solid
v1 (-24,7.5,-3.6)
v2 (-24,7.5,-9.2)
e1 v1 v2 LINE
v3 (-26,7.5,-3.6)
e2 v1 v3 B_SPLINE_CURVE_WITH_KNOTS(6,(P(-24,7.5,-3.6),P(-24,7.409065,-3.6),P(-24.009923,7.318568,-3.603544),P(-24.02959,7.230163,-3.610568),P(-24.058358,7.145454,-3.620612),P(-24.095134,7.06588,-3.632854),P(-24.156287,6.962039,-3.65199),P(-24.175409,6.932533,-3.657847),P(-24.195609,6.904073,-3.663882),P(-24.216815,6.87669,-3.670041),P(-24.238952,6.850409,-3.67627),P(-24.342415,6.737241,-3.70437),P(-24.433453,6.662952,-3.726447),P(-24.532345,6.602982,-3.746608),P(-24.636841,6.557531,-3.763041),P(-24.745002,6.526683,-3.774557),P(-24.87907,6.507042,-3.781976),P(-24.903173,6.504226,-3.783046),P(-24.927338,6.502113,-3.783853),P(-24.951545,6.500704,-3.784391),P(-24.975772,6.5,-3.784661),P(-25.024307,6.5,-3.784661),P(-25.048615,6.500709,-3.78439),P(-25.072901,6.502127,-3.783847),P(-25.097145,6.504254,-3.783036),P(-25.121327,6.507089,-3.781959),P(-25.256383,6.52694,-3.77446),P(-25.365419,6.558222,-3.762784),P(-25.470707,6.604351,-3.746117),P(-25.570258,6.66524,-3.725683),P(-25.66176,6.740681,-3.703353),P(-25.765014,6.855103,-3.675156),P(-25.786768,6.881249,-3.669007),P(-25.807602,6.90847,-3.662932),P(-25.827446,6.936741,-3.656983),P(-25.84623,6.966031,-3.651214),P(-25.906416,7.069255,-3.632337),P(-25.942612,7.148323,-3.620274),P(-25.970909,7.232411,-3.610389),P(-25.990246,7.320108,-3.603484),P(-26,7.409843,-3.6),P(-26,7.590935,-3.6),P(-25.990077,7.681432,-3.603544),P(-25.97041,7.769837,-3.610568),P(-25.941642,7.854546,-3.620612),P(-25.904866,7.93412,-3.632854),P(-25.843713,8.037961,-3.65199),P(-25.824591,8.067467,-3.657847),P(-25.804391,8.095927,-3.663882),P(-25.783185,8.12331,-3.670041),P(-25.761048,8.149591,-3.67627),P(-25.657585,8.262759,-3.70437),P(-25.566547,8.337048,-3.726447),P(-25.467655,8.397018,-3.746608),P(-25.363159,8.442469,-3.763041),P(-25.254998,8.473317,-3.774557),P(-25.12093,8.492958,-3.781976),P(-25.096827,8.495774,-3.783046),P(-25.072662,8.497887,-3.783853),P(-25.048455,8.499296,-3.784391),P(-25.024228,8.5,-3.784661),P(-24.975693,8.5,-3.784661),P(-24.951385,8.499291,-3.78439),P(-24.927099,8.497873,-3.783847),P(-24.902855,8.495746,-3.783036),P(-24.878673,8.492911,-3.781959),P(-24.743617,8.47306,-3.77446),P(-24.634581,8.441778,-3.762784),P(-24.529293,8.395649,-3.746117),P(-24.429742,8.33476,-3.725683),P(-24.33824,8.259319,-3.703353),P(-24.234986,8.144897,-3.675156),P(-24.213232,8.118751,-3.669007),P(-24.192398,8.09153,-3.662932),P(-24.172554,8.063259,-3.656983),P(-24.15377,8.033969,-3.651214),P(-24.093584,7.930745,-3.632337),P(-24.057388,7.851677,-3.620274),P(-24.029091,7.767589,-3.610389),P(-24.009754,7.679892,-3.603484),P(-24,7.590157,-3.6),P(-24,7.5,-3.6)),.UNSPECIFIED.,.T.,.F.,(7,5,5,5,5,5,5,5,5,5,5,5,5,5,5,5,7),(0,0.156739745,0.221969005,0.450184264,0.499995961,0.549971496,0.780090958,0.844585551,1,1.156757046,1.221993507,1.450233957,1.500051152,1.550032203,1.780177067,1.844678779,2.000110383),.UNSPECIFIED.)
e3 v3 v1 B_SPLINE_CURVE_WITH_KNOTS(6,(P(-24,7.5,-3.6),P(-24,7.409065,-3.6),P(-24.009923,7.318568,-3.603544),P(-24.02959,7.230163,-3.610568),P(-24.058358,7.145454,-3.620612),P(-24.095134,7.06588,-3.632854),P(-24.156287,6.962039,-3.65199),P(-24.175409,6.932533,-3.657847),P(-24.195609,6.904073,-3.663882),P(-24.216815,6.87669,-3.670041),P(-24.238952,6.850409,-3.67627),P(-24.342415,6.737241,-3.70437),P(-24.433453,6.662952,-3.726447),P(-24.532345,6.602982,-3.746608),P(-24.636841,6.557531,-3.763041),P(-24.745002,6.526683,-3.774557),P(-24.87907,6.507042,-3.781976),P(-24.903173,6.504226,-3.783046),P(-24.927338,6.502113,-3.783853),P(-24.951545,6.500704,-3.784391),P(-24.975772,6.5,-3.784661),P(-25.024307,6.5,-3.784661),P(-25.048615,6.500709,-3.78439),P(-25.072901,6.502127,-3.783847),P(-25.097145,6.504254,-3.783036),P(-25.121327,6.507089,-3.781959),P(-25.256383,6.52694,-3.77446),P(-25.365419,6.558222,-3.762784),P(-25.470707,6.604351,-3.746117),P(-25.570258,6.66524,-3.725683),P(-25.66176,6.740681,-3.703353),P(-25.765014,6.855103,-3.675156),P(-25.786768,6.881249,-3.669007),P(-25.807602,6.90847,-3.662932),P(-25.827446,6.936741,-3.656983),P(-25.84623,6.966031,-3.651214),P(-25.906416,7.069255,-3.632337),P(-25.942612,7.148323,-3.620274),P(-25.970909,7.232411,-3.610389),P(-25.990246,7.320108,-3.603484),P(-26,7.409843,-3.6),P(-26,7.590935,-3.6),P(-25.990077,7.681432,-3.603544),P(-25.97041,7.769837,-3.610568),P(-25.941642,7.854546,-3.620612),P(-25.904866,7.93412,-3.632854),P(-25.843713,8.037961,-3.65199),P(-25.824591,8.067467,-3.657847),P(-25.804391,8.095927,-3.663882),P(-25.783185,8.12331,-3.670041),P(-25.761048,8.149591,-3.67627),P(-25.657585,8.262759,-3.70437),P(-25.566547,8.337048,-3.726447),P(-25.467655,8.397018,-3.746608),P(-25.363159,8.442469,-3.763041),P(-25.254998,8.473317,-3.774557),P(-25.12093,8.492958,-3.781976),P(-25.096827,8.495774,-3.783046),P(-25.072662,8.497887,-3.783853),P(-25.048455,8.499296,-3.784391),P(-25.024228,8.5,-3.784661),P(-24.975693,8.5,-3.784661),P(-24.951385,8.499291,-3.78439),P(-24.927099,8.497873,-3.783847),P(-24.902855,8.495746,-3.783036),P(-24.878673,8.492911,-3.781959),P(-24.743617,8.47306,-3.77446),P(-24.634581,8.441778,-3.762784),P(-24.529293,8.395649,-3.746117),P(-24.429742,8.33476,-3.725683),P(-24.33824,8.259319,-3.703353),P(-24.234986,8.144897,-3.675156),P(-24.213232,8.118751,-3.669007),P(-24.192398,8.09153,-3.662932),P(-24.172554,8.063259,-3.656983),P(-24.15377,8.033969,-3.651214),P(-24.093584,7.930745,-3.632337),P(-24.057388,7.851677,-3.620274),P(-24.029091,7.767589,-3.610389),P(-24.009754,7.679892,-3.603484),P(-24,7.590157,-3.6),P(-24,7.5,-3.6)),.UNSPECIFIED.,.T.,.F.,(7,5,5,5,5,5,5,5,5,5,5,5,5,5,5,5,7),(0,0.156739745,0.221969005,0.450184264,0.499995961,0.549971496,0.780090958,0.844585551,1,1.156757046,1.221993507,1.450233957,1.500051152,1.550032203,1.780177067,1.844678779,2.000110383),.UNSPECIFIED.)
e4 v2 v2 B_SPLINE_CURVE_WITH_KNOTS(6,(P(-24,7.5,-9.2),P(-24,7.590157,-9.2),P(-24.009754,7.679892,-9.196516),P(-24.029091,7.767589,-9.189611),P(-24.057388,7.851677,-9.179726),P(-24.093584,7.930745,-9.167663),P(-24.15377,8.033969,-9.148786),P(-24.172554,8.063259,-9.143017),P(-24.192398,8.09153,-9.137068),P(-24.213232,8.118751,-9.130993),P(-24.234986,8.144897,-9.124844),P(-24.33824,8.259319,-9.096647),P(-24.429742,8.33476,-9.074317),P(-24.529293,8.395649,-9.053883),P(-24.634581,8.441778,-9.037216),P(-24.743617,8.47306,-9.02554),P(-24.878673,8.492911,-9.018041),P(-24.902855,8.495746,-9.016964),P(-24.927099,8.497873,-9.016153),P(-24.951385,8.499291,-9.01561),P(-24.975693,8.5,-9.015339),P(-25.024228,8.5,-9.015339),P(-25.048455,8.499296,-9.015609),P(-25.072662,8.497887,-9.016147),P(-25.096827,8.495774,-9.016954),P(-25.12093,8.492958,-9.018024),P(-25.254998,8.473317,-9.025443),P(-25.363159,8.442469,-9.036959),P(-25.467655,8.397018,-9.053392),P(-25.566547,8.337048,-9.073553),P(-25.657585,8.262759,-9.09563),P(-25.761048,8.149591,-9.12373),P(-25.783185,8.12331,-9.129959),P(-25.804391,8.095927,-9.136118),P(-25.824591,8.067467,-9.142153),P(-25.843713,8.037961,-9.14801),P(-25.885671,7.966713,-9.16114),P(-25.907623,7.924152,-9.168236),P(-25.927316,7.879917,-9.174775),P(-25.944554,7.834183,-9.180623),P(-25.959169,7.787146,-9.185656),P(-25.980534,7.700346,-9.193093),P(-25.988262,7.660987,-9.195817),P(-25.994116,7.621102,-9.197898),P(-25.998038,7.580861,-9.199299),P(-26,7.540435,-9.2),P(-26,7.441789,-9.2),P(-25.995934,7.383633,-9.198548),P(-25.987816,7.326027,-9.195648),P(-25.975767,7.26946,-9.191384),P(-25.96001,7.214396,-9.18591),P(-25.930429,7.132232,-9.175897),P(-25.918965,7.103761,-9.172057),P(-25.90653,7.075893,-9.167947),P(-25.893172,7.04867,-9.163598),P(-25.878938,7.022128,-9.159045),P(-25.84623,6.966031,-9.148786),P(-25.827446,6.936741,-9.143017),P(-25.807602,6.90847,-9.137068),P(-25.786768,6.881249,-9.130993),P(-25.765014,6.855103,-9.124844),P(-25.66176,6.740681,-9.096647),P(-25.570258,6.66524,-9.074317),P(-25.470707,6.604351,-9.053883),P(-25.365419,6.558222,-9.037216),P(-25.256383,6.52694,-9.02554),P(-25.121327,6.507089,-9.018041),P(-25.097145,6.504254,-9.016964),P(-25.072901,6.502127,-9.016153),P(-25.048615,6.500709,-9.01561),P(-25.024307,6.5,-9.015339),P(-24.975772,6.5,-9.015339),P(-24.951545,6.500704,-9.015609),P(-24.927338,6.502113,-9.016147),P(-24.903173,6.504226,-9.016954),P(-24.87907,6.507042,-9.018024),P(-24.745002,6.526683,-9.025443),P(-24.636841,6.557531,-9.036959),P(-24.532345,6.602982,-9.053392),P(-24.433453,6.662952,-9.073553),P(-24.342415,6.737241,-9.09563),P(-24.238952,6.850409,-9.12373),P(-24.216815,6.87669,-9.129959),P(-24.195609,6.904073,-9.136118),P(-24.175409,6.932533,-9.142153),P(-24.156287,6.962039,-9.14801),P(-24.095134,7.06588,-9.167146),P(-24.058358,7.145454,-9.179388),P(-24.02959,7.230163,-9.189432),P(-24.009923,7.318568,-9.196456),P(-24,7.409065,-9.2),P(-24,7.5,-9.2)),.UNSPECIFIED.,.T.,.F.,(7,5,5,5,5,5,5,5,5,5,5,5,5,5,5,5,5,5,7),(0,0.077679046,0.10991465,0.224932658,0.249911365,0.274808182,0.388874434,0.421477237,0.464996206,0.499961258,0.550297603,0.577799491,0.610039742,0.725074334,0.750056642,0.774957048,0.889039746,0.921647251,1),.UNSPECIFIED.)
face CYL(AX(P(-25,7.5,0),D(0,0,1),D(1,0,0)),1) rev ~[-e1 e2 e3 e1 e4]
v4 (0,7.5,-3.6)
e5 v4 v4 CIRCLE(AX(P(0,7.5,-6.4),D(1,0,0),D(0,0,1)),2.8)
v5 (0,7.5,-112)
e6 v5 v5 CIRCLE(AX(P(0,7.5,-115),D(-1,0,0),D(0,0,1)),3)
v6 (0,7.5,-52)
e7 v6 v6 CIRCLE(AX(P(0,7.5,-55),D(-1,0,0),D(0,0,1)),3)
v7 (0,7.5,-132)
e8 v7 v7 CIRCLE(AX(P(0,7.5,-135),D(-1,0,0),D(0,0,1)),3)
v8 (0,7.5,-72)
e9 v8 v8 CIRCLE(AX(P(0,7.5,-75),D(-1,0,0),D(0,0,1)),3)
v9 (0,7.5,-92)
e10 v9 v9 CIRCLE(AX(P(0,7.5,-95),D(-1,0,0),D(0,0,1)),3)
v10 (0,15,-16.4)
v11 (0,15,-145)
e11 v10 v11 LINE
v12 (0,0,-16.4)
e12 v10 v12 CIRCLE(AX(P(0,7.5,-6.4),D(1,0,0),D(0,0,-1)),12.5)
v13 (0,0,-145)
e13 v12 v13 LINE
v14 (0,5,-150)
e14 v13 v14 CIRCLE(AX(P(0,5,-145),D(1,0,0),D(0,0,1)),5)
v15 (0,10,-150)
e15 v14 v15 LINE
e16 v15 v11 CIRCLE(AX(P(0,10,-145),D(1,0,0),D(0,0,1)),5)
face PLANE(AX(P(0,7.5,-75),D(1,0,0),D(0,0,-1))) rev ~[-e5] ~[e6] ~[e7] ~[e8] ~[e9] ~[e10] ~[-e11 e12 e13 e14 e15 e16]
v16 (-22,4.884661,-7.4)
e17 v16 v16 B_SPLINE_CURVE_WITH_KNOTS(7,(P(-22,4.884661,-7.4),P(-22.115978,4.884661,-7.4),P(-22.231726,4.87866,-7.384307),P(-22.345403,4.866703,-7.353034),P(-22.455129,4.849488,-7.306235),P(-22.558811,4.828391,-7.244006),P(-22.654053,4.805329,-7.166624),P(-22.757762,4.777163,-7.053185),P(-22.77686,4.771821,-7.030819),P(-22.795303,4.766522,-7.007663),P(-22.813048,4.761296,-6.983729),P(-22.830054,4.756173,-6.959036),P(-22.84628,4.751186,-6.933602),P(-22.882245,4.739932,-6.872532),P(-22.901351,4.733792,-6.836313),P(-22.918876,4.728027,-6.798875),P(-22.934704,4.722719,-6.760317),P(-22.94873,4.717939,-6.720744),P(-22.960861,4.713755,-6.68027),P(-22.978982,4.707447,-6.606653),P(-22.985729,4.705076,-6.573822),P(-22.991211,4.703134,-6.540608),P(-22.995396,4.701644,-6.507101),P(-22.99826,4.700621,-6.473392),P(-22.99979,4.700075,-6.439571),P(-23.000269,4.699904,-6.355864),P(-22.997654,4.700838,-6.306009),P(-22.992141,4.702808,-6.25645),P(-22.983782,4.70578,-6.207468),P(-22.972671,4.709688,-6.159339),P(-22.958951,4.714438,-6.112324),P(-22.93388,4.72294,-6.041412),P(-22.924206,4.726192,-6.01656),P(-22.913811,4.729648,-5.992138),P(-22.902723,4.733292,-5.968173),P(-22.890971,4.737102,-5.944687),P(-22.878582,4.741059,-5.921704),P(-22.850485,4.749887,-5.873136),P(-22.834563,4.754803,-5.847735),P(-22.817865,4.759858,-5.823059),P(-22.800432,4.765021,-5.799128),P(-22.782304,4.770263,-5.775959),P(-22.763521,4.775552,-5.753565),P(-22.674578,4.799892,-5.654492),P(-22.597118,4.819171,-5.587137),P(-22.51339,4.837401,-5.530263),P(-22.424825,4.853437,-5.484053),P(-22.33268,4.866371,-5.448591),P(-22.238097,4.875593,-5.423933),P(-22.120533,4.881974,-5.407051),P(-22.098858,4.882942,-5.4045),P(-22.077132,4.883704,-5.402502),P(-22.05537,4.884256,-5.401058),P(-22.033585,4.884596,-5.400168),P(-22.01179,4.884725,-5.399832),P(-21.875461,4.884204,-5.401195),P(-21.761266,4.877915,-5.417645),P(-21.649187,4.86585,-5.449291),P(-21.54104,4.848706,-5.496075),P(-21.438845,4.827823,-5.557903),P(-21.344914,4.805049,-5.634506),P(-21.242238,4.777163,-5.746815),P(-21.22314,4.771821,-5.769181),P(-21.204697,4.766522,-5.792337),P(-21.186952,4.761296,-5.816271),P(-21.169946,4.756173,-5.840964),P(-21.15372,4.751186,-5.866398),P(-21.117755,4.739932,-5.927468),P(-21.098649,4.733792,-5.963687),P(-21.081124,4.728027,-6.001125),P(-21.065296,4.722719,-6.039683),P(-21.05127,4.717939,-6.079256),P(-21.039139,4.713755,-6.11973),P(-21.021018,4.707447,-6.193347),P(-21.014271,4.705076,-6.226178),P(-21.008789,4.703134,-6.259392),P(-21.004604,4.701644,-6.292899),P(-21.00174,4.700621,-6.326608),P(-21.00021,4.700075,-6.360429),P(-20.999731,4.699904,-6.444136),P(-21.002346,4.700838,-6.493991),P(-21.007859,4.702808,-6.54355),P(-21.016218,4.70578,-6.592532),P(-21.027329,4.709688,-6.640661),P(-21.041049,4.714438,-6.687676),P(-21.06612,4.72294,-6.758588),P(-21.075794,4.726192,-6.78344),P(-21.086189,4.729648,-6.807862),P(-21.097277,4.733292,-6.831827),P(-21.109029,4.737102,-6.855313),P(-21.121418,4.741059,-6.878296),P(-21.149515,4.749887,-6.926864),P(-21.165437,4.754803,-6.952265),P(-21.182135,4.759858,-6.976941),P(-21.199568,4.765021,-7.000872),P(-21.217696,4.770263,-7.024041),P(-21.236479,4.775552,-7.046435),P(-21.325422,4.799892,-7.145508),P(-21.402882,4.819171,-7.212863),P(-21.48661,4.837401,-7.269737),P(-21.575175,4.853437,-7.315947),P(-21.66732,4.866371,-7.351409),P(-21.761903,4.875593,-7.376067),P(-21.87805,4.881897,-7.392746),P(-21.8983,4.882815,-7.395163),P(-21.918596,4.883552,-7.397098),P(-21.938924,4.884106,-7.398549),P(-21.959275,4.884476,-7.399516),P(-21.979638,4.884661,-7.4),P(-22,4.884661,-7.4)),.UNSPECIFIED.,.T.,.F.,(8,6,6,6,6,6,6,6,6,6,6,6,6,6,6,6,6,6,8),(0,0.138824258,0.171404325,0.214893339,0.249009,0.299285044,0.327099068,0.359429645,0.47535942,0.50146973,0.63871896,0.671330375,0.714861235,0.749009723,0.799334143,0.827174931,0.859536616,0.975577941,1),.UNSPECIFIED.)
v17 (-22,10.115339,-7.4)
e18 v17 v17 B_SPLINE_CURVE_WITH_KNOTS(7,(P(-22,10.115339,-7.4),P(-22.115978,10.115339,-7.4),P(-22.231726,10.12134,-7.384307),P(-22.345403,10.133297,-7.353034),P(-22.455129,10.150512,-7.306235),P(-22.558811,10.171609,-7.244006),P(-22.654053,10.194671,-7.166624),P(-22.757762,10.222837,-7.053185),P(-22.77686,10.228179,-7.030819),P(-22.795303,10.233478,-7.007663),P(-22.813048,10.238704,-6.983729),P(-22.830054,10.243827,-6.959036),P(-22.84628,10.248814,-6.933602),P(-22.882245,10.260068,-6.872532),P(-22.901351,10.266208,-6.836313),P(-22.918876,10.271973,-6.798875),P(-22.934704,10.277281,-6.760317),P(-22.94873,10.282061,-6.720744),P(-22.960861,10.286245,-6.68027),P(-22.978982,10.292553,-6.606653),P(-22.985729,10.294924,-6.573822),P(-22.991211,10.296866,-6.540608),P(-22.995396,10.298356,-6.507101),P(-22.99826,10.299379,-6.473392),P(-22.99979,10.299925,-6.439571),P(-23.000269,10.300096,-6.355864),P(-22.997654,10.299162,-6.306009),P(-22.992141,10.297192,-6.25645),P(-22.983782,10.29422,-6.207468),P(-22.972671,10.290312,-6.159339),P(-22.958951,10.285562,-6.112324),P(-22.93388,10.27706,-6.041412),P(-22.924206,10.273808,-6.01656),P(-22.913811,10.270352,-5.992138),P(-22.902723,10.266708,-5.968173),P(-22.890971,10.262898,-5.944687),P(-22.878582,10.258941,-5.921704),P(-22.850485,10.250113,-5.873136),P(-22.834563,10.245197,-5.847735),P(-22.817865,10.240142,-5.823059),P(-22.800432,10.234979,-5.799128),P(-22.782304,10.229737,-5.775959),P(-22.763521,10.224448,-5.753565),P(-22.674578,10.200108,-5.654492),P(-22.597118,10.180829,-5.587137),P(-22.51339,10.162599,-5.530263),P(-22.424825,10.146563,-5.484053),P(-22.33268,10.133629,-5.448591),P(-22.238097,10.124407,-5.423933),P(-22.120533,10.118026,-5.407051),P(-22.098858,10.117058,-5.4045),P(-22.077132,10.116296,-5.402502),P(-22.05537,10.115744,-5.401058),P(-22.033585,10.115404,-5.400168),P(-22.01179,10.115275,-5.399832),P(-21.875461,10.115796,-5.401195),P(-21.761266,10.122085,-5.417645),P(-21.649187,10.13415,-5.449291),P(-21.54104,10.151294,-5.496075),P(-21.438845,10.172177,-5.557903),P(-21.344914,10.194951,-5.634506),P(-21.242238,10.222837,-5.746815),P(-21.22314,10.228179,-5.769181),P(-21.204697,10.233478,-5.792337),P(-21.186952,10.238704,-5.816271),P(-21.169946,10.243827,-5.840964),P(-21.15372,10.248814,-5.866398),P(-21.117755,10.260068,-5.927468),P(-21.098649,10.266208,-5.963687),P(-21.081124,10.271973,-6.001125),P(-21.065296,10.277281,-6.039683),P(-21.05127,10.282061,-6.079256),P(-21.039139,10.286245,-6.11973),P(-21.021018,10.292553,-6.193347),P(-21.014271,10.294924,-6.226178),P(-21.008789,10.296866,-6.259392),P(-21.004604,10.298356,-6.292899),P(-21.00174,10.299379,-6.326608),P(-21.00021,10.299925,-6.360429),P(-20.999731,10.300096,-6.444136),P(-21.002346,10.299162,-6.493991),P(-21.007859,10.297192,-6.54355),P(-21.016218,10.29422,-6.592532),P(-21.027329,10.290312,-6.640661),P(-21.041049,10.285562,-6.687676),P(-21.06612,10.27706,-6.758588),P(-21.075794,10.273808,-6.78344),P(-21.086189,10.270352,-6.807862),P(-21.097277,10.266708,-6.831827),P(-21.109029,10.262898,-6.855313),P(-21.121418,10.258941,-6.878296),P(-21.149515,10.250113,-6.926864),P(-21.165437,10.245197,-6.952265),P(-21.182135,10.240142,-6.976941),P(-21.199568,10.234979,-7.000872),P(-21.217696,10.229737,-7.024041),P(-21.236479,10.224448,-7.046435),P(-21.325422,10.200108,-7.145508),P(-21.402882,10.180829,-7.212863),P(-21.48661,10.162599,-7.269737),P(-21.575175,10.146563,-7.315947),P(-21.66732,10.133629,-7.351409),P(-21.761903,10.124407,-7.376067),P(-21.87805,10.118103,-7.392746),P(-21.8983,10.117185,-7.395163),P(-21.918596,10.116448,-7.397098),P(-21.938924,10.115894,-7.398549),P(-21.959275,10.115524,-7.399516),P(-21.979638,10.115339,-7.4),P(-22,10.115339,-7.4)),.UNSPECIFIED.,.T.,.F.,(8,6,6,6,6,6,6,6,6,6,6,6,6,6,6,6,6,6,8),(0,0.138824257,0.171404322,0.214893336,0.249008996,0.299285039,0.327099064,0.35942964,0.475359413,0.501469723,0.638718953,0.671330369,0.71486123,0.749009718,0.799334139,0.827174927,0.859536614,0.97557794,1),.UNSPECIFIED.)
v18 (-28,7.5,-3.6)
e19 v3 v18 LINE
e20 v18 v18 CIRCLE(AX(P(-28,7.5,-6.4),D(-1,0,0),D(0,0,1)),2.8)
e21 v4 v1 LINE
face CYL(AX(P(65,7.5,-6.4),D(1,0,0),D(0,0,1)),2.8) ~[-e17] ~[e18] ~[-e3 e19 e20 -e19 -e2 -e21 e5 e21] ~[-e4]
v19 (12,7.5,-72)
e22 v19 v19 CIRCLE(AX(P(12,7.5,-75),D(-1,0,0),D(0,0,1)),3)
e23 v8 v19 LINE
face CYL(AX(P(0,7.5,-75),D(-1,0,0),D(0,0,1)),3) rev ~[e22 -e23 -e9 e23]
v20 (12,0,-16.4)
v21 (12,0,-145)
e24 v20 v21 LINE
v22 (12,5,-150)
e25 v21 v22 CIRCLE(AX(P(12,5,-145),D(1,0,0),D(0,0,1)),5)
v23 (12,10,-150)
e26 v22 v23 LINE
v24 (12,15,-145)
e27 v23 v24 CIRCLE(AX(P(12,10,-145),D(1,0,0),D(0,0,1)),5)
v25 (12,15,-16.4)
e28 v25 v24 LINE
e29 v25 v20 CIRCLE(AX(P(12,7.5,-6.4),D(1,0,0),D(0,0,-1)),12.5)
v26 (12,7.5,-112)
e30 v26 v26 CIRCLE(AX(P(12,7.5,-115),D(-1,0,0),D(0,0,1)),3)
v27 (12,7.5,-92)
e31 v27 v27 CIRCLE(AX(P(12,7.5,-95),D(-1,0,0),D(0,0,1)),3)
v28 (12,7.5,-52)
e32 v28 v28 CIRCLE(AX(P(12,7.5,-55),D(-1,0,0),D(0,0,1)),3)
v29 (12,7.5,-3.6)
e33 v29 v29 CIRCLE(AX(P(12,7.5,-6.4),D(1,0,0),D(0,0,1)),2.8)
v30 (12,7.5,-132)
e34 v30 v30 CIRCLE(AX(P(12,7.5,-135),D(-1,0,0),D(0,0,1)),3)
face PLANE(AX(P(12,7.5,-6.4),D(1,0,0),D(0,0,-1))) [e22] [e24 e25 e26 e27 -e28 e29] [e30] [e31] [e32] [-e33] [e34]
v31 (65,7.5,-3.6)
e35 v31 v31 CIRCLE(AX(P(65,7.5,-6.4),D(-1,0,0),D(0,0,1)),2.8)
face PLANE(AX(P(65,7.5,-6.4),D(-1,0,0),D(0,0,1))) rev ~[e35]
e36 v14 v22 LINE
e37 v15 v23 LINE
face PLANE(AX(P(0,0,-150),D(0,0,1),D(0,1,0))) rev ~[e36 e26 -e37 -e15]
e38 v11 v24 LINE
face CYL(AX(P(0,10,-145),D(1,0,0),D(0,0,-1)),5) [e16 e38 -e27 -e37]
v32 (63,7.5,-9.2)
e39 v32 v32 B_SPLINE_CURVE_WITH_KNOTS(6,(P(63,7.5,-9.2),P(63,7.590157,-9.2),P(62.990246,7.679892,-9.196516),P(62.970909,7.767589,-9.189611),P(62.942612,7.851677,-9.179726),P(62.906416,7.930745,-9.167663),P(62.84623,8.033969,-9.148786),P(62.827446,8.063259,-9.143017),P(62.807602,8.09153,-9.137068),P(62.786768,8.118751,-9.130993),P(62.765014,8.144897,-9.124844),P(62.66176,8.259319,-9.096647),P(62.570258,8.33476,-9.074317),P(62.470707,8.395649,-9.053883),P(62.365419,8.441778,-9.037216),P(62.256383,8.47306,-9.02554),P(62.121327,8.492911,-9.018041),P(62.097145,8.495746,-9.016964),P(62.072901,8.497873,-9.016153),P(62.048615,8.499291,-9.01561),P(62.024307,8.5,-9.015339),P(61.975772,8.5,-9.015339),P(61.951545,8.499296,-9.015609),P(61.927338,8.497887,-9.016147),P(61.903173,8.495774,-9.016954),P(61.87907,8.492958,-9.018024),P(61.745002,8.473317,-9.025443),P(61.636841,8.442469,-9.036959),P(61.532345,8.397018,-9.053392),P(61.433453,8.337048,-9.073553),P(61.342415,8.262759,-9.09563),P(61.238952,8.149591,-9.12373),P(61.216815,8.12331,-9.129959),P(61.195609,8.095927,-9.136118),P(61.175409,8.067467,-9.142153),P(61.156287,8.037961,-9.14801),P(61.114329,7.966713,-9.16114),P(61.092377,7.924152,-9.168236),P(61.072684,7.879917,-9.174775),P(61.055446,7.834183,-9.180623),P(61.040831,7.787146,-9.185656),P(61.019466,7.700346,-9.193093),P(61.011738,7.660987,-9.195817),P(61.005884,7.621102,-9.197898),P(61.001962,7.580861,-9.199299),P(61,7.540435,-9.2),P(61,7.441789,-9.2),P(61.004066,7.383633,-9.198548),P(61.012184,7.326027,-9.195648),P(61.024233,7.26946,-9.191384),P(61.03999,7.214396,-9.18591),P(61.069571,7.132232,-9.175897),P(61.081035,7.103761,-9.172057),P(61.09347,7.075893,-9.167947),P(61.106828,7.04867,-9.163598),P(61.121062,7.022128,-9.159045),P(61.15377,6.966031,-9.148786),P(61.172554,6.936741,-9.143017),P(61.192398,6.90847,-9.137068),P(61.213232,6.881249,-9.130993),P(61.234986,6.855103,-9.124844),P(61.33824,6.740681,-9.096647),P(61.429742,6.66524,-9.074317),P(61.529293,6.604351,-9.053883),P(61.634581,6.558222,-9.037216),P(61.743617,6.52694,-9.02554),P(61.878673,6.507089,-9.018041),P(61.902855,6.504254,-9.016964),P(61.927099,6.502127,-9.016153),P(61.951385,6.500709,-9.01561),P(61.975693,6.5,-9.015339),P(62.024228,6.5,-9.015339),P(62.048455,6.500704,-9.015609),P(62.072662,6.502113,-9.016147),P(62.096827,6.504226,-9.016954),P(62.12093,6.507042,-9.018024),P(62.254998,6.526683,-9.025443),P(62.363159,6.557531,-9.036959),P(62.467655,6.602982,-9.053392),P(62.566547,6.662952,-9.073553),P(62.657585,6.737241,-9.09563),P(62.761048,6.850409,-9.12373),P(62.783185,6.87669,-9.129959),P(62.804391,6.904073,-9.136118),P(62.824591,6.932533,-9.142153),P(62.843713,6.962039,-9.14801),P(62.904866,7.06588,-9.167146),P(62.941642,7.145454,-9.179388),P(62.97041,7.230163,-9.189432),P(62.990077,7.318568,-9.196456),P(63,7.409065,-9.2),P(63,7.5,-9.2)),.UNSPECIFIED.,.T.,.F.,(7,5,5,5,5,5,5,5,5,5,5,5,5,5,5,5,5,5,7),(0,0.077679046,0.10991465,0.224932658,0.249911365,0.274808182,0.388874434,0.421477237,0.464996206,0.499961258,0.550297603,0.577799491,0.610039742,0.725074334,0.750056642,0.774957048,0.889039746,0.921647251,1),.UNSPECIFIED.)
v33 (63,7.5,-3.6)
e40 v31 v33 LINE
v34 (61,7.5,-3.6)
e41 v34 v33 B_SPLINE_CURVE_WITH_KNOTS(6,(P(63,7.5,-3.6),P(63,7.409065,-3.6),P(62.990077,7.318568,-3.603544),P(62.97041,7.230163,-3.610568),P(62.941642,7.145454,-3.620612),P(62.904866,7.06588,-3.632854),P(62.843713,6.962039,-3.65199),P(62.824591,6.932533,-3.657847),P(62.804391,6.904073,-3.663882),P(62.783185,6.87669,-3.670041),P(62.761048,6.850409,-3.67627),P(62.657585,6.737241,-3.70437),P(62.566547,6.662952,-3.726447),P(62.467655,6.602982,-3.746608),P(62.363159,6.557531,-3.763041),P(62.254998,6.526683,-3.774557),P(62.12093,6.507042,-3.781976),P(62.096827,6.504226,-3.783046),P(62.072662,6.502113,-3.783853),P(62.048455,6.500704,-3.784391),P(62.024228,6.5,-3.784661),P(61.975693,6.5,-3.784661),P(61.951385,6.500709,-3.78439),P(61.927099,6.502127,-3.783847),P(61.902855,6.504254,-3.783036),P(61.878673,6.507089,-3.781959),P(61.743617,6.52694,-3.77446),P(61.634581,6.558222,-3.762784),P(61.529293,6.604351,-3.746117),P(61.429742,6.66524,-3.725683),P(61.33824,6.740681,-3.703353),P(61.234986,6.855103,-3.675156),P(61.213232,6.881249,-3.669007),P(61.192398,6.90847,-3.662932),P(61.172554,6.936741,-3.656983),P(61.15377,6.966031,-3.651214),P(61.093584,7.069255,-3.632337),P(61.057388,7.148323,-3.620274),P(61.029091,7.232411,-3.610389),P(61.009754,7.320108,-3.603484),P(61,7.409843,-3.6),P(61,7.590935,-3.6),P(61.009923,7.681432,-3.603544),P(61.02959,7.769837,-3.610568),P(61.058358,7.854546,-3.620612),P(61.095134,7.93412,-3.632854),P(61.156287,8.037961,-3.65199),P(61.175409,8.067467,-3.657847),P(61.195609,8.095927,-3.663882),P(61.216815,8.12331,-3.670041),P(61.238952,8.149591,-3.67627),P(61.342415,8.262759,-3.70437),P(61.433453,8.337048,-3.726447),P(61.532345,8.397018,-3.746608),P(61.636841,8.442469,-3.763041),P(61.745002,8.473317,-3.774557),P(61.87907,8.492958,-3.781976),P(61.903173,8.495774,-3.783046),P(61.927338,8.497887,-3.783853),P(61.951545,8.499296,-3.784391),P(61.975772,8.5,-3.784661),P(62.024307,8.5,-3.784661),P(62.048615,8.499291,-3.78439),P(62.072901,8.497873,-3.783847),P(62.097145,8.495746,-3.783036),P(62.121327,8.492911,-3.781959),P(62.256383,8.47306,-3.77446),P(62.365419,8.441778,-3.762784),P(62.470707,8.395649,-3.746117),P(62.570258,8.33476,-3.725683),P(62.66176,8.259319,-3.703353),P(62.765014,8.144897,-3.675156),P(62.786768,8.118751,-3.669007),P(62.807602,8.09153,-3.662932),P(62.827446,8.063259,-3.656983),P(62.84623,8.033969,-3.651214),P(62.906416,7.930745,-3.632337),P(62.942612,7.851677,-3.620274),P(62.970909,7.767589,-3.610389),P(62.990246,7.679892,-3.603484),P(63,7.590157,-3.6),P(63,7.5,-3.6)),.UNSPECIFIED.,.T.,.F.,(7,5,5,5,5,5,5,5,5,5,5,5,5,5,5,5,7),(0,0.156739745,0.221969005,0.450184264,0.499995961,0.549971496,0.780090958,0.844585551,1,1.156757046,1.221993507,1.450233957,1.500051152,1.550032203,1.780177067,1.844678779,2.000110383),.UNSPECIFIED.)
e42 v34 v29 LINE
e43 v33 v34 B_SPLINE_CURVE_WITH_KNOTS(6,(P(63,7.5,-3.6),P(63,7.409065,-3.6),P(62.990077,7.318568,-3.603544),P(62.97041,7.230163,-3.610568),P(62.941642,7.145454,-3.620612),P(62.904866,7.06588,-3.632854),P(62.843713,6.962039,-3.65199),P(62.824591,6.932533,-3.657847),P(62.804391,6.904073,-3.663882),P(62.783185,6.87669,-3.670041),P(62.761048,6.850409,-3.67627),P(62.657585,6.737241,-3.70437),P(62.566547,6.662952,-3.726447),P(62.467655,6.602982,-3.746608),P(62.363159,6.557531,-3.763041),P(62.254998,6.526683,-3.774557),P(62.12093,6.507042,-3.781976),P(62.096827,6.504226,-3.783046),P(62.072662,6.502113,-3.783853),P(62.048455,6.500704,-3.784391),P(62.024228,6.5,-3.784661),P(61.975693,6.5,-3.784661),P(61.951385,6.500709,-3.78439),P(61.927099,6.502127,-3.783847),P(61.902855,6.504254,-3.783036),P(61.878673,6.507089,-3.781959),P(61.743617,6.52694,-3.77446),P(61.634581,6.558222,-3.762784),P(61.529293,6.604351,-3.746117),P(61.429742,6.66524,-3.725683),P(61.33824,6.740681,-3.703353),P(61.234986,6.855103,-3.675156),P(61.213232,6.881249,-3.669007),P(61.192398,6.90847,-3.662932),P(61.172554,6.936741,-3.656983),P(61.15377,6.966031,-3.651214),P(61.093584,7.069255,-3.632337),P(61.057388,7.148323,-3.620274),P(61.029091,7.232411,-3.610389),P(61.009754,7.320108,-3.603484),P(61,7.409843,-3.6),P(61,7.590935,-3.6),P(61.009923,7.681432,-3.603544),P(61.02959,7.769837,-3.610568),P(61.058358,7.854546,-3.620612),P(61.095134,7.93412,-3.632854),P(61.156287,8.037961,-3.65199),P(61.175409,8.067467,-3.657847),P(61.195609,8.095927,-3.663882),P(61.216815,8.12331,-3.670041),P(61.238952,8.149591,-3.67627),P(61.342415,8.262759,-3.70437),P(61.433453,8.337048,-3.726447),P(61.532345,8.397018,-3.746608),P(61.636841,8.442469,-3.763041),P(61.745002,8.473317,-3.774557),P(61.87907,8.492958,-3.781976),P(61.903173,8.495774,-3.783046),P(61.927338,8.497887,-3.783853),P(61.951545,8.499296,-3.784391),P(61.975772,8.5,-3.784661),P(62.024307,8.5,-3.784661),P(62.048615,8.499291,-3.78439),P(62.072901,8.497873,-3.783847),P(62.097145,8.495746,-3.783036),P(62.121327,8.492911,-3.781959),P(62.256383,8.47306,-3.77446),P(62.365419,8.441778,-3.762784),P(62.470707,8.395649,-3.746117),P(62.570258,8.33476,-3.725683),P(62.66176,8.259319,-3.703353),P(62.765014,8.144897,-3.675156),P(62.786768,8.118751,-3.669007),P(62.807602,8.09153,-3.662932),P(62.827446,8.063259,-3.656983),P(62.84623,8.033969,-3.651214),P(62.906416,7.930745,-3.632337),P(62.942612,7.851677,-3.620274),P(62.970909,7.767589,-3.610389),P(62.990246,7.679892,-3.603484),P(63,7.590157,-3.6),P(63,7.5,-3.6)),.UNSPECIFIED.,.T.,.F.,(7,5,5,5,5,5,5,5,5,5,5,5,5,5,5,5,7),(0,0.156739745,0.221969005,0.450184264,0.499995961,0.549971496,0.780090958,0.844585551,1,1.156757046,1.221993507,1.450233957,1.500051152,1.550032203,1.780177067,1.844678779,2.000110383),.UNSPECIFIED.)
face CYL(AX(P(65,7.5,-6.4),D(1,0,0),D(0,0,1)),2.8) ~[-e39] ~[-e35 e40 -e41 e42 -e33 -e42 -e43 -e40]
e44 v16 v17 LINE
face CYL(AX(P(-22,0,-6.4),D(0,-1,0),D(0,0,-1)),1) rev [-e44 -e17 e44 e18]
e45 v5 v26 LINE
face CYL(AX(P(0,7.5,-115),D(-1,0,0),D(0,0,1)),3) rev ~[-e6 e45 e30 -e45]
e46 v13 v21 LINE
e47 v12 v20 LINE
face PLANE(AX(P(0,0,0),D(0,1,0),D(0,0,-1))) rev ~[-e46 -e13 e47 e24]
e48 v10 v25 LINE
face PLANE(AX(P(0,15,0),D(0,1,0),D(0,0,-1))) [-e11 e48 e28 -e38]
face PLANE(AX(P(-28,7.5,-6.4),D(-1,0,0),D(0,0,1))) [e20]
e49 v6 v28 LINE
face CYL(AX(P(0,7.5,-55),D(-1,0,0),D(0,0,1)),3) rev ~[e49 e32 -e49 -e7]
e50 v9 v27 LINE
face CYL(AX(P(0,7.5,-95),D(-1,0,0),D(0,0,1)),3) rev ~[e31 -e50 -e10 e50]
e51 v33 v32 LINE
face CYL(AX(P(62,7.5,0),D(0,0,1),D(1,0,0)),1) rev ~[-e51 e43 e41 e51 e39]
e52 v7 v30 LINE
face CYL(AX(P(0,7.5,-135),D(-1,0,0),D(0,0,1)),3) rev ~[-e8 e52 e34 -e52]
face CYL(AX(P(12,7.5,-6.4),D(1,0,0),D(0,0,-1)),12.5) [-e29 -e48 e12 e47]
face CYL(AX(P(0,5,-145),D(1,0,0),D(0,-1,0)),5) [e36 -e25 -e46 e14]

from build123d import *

# Parameters (mm, degrees)
SKETCH_1_W           = 150
SKETCH_1_H           = 15
EXTRUDE_1_DEPTH      = 12
FILLET_1_R           = 5
SKETCH_6_R           = 12.5
EXTRUDE_2_DEPTH      = 12
EXTRUDE_5_DEPTH      = 28
EXTRUDE_5_DEPTH_BACK = 65
SKETCH_15_R          = 2.8
CUT_EXTRUDE_9_REACH  = 166.697
SKETCH_16_R          = 1
CUT_EXTRUDE_10_REACH = 166.697
SKETCH_17_R          = 3
SKETCH_18_R          = 1
CUT_EXTRUDE_11_DEPTH = 15


with BuildPart() as part:
    # 草图1 → 凸台-拉伸1 (new body)
    with BuildSketch(Plane(origin=(0, 0, 0), x_dir=(0, 0, -1), z_dir=(1, 0, 0))):
        with Locations((75, 7.5)):
            Rectangle(SKETCH_1_W, SKETCH_1_H)
    extrude(amount=EXTRUDE_1_DEPTH)

    # 圆角1
    fillet_1_edges = [part.edges().sort_by_distance(p)[0] for p in [
        (6, 15, 0),
        (6, 15, -150),
        (6, 0, -150),
        (6, 0, 0),
    ]]
    fillet(fillet_1_edges, radius=FILLET_1_R)

    # 草图6 → 凸台-拉伸2 (add)
    with BuildSketch(Plane(origin=(12, 0, 0), x_dir=(0, 0, -1), z_dir=(1, 0, 0))):
        with Locations((6.4, 7.5)):
            Circle(SKETCH_6_R)
    extrude(amount=-EXTRUDE_2_DEPTH)

    # 草图15 → 凸台-拉伸5 (add, two sides: drawn at the far end of the back side and taken through both)
    with BuildSketch(Plane.ZY.offset(-EXTRUDE_5_DEPTH_BACK)):
        with Locations((-6.4, 7.5)):
            Circle(SKETCH_15_R)
    extrude(amount=EXTRUDE_5_DEPTH + EXTRUDE_5_DEPTH_BACK)

    # 草图16 → 切除-拉伸9 (cut, up to next)
    with BuildSketch(Plane.XY, mode=Mode.PRIVATE) as cut_extrude_9_sk1:
        with Locations((-25, 7.5)):
            Circle(SKETCH_16_R)
    cut_extrude_9_tool1 = extrude(cut_extrude_9_sk1.sketch, amount=-CUT_EXTRUDE_9_REACH, mode=Mode.PRIVATE) & part.part
    # 草图16 → 切除-拉伸9 (cut, up to next)
    with BuildSketch(Plane.XY, mode=Mode.PRIVATE) as cut_extrude_9_sk2:
        with Locations((62, 7.5)):
            Circle(SKETCH_16_R)
    cut_extrude_9_tool2 = extrude(cut_extrude_9_sk2.sketch, amount=-CUT_EXTRUDE_9_REACH, mode=Mode.PRIVATE) & part.part
    add(cut_extrude_9_tool1.solids().sort_by_distance((-25, 7.5, 0))[0], mode=Mode.SUBTRACT)
    add(cut_extrude_9_tool2.solids().sort_by_distance((62, 7.5, 0))[0], mode=Mode.SUBTRACT)

    # 草图17 → 切除-拉伸10 (cut, up to next)
    with BuildSketch(Plane.ZY, mode=Mode.PRIVATE) as cut_extrude_10_sk1:
        with Locations((-135, 7.5)):
            Circle(SKETCH_17_R)
    cut_extrude_10_tool1 = extrude(cut_extrude_10_sk1.sketch, amount=-CUT_EXTRUDE_10_REACH, mode=Mode.PRIVATE) & part.part
    # 草图17 → 切除-拉伸10 (cut, up to next)
    with BuildSketch(Plane.ZY, mode=Mode.PRIVATE) as cut_extrude_10_sk2:
        with Locations((-115, 7.5)):
            Circle(SKETCH_17_R)
    cut_extrude_10_tool2 = extrude(cut_extrude_10_sk2.sketch, amount=-CUT_EXTRUDE_10_REACH, mode=Mode.PRIVATE) & part.part
    # 草图17 → 切除-拉伸10 (cut, up to next)
    with BuildSketch(Plane.ZY, mode=Mode.PRIVATE) as cut_extrude_10_sk3:
        with Locations((-95, 7.5)):
            Circle(SKETCH_17_R)
    cut_extrude_10_tool3 = extrude(cut_extrude_10_sk3.sketch, amount=-CUT_EXTRUDE_10_REACH, mode=Mode.PRIVATE) & part.part
    # 草图17 → 切除-拉伸10 (cut, up to next)
    with BuildSketch(Plane.ZY, mode=Mode.PRIVATE) as cut_extrude_10_sk4:
        with Locations((-75, 7.5)):
            Circle(SKETCH_17_R)
    cut_extrude_10_tool4 = extrude(cut_extrude_10_sk4.sketch, amount=-CUT_EXTRUDE_10_REACH, mode=Mode.PRIVATE) & part.part
    # 草图17 → 切除-拉伸10 (cut, up to next)
    with BuildSketch(Plane.ZY, mode=Mode.PRIVATE) as cut_extrude_10_sk5:
        with Locations((-55, 7.5)):
            Circle(SKETCH_17_R)
    cut_extrude_10_tool5 = extrude(cut_extrude_10_sk5.sketch, amount=-CUT_EXTRUDE_10_REACH, mode=Mode.PRIVATE) & part.part
    add(cut_extrude_10_tool1.solids().sort_by_distance((0, 7.5, -135))[0], mode=Mode.SUBTRACT)
    add(cut_extrude_10_tool2.solids().sort_by_distance((0, 7.5, -115))[0], mode=Mode.SUBTRACT)
    add(cut_extrude_10_tool3.solids().sort_by_distance((0, 7.5, -95))[0], mode=Mode.SUBTRACT)
    add(cut_extrude_10_tool4.solids().sort_by_distance((0, 7.5, -75))[0], mode=Mode.SUBTRACT)
    add(cut_extrude_10_tool5.solids().sort_by_distance((0, 7.5, -55))[0], mode=Mode.SUBTRACT)

    # 草图18 → 切除-拉伸11 (cut)
    with BuildSketch(Plane(origin=(0, 0, 0), x_dir=(1, 0, 0), z_dir=(0, 1, 0))):
        with Locations(Location((-22, 6.4, 0), (0, 0, 90))):
            Circle(SKETCH_18_R)
    extrude(amount=CUT_EXTRUDE_11_DEPTH, mode=Mode.SUBTRACT)


solid = part.part
